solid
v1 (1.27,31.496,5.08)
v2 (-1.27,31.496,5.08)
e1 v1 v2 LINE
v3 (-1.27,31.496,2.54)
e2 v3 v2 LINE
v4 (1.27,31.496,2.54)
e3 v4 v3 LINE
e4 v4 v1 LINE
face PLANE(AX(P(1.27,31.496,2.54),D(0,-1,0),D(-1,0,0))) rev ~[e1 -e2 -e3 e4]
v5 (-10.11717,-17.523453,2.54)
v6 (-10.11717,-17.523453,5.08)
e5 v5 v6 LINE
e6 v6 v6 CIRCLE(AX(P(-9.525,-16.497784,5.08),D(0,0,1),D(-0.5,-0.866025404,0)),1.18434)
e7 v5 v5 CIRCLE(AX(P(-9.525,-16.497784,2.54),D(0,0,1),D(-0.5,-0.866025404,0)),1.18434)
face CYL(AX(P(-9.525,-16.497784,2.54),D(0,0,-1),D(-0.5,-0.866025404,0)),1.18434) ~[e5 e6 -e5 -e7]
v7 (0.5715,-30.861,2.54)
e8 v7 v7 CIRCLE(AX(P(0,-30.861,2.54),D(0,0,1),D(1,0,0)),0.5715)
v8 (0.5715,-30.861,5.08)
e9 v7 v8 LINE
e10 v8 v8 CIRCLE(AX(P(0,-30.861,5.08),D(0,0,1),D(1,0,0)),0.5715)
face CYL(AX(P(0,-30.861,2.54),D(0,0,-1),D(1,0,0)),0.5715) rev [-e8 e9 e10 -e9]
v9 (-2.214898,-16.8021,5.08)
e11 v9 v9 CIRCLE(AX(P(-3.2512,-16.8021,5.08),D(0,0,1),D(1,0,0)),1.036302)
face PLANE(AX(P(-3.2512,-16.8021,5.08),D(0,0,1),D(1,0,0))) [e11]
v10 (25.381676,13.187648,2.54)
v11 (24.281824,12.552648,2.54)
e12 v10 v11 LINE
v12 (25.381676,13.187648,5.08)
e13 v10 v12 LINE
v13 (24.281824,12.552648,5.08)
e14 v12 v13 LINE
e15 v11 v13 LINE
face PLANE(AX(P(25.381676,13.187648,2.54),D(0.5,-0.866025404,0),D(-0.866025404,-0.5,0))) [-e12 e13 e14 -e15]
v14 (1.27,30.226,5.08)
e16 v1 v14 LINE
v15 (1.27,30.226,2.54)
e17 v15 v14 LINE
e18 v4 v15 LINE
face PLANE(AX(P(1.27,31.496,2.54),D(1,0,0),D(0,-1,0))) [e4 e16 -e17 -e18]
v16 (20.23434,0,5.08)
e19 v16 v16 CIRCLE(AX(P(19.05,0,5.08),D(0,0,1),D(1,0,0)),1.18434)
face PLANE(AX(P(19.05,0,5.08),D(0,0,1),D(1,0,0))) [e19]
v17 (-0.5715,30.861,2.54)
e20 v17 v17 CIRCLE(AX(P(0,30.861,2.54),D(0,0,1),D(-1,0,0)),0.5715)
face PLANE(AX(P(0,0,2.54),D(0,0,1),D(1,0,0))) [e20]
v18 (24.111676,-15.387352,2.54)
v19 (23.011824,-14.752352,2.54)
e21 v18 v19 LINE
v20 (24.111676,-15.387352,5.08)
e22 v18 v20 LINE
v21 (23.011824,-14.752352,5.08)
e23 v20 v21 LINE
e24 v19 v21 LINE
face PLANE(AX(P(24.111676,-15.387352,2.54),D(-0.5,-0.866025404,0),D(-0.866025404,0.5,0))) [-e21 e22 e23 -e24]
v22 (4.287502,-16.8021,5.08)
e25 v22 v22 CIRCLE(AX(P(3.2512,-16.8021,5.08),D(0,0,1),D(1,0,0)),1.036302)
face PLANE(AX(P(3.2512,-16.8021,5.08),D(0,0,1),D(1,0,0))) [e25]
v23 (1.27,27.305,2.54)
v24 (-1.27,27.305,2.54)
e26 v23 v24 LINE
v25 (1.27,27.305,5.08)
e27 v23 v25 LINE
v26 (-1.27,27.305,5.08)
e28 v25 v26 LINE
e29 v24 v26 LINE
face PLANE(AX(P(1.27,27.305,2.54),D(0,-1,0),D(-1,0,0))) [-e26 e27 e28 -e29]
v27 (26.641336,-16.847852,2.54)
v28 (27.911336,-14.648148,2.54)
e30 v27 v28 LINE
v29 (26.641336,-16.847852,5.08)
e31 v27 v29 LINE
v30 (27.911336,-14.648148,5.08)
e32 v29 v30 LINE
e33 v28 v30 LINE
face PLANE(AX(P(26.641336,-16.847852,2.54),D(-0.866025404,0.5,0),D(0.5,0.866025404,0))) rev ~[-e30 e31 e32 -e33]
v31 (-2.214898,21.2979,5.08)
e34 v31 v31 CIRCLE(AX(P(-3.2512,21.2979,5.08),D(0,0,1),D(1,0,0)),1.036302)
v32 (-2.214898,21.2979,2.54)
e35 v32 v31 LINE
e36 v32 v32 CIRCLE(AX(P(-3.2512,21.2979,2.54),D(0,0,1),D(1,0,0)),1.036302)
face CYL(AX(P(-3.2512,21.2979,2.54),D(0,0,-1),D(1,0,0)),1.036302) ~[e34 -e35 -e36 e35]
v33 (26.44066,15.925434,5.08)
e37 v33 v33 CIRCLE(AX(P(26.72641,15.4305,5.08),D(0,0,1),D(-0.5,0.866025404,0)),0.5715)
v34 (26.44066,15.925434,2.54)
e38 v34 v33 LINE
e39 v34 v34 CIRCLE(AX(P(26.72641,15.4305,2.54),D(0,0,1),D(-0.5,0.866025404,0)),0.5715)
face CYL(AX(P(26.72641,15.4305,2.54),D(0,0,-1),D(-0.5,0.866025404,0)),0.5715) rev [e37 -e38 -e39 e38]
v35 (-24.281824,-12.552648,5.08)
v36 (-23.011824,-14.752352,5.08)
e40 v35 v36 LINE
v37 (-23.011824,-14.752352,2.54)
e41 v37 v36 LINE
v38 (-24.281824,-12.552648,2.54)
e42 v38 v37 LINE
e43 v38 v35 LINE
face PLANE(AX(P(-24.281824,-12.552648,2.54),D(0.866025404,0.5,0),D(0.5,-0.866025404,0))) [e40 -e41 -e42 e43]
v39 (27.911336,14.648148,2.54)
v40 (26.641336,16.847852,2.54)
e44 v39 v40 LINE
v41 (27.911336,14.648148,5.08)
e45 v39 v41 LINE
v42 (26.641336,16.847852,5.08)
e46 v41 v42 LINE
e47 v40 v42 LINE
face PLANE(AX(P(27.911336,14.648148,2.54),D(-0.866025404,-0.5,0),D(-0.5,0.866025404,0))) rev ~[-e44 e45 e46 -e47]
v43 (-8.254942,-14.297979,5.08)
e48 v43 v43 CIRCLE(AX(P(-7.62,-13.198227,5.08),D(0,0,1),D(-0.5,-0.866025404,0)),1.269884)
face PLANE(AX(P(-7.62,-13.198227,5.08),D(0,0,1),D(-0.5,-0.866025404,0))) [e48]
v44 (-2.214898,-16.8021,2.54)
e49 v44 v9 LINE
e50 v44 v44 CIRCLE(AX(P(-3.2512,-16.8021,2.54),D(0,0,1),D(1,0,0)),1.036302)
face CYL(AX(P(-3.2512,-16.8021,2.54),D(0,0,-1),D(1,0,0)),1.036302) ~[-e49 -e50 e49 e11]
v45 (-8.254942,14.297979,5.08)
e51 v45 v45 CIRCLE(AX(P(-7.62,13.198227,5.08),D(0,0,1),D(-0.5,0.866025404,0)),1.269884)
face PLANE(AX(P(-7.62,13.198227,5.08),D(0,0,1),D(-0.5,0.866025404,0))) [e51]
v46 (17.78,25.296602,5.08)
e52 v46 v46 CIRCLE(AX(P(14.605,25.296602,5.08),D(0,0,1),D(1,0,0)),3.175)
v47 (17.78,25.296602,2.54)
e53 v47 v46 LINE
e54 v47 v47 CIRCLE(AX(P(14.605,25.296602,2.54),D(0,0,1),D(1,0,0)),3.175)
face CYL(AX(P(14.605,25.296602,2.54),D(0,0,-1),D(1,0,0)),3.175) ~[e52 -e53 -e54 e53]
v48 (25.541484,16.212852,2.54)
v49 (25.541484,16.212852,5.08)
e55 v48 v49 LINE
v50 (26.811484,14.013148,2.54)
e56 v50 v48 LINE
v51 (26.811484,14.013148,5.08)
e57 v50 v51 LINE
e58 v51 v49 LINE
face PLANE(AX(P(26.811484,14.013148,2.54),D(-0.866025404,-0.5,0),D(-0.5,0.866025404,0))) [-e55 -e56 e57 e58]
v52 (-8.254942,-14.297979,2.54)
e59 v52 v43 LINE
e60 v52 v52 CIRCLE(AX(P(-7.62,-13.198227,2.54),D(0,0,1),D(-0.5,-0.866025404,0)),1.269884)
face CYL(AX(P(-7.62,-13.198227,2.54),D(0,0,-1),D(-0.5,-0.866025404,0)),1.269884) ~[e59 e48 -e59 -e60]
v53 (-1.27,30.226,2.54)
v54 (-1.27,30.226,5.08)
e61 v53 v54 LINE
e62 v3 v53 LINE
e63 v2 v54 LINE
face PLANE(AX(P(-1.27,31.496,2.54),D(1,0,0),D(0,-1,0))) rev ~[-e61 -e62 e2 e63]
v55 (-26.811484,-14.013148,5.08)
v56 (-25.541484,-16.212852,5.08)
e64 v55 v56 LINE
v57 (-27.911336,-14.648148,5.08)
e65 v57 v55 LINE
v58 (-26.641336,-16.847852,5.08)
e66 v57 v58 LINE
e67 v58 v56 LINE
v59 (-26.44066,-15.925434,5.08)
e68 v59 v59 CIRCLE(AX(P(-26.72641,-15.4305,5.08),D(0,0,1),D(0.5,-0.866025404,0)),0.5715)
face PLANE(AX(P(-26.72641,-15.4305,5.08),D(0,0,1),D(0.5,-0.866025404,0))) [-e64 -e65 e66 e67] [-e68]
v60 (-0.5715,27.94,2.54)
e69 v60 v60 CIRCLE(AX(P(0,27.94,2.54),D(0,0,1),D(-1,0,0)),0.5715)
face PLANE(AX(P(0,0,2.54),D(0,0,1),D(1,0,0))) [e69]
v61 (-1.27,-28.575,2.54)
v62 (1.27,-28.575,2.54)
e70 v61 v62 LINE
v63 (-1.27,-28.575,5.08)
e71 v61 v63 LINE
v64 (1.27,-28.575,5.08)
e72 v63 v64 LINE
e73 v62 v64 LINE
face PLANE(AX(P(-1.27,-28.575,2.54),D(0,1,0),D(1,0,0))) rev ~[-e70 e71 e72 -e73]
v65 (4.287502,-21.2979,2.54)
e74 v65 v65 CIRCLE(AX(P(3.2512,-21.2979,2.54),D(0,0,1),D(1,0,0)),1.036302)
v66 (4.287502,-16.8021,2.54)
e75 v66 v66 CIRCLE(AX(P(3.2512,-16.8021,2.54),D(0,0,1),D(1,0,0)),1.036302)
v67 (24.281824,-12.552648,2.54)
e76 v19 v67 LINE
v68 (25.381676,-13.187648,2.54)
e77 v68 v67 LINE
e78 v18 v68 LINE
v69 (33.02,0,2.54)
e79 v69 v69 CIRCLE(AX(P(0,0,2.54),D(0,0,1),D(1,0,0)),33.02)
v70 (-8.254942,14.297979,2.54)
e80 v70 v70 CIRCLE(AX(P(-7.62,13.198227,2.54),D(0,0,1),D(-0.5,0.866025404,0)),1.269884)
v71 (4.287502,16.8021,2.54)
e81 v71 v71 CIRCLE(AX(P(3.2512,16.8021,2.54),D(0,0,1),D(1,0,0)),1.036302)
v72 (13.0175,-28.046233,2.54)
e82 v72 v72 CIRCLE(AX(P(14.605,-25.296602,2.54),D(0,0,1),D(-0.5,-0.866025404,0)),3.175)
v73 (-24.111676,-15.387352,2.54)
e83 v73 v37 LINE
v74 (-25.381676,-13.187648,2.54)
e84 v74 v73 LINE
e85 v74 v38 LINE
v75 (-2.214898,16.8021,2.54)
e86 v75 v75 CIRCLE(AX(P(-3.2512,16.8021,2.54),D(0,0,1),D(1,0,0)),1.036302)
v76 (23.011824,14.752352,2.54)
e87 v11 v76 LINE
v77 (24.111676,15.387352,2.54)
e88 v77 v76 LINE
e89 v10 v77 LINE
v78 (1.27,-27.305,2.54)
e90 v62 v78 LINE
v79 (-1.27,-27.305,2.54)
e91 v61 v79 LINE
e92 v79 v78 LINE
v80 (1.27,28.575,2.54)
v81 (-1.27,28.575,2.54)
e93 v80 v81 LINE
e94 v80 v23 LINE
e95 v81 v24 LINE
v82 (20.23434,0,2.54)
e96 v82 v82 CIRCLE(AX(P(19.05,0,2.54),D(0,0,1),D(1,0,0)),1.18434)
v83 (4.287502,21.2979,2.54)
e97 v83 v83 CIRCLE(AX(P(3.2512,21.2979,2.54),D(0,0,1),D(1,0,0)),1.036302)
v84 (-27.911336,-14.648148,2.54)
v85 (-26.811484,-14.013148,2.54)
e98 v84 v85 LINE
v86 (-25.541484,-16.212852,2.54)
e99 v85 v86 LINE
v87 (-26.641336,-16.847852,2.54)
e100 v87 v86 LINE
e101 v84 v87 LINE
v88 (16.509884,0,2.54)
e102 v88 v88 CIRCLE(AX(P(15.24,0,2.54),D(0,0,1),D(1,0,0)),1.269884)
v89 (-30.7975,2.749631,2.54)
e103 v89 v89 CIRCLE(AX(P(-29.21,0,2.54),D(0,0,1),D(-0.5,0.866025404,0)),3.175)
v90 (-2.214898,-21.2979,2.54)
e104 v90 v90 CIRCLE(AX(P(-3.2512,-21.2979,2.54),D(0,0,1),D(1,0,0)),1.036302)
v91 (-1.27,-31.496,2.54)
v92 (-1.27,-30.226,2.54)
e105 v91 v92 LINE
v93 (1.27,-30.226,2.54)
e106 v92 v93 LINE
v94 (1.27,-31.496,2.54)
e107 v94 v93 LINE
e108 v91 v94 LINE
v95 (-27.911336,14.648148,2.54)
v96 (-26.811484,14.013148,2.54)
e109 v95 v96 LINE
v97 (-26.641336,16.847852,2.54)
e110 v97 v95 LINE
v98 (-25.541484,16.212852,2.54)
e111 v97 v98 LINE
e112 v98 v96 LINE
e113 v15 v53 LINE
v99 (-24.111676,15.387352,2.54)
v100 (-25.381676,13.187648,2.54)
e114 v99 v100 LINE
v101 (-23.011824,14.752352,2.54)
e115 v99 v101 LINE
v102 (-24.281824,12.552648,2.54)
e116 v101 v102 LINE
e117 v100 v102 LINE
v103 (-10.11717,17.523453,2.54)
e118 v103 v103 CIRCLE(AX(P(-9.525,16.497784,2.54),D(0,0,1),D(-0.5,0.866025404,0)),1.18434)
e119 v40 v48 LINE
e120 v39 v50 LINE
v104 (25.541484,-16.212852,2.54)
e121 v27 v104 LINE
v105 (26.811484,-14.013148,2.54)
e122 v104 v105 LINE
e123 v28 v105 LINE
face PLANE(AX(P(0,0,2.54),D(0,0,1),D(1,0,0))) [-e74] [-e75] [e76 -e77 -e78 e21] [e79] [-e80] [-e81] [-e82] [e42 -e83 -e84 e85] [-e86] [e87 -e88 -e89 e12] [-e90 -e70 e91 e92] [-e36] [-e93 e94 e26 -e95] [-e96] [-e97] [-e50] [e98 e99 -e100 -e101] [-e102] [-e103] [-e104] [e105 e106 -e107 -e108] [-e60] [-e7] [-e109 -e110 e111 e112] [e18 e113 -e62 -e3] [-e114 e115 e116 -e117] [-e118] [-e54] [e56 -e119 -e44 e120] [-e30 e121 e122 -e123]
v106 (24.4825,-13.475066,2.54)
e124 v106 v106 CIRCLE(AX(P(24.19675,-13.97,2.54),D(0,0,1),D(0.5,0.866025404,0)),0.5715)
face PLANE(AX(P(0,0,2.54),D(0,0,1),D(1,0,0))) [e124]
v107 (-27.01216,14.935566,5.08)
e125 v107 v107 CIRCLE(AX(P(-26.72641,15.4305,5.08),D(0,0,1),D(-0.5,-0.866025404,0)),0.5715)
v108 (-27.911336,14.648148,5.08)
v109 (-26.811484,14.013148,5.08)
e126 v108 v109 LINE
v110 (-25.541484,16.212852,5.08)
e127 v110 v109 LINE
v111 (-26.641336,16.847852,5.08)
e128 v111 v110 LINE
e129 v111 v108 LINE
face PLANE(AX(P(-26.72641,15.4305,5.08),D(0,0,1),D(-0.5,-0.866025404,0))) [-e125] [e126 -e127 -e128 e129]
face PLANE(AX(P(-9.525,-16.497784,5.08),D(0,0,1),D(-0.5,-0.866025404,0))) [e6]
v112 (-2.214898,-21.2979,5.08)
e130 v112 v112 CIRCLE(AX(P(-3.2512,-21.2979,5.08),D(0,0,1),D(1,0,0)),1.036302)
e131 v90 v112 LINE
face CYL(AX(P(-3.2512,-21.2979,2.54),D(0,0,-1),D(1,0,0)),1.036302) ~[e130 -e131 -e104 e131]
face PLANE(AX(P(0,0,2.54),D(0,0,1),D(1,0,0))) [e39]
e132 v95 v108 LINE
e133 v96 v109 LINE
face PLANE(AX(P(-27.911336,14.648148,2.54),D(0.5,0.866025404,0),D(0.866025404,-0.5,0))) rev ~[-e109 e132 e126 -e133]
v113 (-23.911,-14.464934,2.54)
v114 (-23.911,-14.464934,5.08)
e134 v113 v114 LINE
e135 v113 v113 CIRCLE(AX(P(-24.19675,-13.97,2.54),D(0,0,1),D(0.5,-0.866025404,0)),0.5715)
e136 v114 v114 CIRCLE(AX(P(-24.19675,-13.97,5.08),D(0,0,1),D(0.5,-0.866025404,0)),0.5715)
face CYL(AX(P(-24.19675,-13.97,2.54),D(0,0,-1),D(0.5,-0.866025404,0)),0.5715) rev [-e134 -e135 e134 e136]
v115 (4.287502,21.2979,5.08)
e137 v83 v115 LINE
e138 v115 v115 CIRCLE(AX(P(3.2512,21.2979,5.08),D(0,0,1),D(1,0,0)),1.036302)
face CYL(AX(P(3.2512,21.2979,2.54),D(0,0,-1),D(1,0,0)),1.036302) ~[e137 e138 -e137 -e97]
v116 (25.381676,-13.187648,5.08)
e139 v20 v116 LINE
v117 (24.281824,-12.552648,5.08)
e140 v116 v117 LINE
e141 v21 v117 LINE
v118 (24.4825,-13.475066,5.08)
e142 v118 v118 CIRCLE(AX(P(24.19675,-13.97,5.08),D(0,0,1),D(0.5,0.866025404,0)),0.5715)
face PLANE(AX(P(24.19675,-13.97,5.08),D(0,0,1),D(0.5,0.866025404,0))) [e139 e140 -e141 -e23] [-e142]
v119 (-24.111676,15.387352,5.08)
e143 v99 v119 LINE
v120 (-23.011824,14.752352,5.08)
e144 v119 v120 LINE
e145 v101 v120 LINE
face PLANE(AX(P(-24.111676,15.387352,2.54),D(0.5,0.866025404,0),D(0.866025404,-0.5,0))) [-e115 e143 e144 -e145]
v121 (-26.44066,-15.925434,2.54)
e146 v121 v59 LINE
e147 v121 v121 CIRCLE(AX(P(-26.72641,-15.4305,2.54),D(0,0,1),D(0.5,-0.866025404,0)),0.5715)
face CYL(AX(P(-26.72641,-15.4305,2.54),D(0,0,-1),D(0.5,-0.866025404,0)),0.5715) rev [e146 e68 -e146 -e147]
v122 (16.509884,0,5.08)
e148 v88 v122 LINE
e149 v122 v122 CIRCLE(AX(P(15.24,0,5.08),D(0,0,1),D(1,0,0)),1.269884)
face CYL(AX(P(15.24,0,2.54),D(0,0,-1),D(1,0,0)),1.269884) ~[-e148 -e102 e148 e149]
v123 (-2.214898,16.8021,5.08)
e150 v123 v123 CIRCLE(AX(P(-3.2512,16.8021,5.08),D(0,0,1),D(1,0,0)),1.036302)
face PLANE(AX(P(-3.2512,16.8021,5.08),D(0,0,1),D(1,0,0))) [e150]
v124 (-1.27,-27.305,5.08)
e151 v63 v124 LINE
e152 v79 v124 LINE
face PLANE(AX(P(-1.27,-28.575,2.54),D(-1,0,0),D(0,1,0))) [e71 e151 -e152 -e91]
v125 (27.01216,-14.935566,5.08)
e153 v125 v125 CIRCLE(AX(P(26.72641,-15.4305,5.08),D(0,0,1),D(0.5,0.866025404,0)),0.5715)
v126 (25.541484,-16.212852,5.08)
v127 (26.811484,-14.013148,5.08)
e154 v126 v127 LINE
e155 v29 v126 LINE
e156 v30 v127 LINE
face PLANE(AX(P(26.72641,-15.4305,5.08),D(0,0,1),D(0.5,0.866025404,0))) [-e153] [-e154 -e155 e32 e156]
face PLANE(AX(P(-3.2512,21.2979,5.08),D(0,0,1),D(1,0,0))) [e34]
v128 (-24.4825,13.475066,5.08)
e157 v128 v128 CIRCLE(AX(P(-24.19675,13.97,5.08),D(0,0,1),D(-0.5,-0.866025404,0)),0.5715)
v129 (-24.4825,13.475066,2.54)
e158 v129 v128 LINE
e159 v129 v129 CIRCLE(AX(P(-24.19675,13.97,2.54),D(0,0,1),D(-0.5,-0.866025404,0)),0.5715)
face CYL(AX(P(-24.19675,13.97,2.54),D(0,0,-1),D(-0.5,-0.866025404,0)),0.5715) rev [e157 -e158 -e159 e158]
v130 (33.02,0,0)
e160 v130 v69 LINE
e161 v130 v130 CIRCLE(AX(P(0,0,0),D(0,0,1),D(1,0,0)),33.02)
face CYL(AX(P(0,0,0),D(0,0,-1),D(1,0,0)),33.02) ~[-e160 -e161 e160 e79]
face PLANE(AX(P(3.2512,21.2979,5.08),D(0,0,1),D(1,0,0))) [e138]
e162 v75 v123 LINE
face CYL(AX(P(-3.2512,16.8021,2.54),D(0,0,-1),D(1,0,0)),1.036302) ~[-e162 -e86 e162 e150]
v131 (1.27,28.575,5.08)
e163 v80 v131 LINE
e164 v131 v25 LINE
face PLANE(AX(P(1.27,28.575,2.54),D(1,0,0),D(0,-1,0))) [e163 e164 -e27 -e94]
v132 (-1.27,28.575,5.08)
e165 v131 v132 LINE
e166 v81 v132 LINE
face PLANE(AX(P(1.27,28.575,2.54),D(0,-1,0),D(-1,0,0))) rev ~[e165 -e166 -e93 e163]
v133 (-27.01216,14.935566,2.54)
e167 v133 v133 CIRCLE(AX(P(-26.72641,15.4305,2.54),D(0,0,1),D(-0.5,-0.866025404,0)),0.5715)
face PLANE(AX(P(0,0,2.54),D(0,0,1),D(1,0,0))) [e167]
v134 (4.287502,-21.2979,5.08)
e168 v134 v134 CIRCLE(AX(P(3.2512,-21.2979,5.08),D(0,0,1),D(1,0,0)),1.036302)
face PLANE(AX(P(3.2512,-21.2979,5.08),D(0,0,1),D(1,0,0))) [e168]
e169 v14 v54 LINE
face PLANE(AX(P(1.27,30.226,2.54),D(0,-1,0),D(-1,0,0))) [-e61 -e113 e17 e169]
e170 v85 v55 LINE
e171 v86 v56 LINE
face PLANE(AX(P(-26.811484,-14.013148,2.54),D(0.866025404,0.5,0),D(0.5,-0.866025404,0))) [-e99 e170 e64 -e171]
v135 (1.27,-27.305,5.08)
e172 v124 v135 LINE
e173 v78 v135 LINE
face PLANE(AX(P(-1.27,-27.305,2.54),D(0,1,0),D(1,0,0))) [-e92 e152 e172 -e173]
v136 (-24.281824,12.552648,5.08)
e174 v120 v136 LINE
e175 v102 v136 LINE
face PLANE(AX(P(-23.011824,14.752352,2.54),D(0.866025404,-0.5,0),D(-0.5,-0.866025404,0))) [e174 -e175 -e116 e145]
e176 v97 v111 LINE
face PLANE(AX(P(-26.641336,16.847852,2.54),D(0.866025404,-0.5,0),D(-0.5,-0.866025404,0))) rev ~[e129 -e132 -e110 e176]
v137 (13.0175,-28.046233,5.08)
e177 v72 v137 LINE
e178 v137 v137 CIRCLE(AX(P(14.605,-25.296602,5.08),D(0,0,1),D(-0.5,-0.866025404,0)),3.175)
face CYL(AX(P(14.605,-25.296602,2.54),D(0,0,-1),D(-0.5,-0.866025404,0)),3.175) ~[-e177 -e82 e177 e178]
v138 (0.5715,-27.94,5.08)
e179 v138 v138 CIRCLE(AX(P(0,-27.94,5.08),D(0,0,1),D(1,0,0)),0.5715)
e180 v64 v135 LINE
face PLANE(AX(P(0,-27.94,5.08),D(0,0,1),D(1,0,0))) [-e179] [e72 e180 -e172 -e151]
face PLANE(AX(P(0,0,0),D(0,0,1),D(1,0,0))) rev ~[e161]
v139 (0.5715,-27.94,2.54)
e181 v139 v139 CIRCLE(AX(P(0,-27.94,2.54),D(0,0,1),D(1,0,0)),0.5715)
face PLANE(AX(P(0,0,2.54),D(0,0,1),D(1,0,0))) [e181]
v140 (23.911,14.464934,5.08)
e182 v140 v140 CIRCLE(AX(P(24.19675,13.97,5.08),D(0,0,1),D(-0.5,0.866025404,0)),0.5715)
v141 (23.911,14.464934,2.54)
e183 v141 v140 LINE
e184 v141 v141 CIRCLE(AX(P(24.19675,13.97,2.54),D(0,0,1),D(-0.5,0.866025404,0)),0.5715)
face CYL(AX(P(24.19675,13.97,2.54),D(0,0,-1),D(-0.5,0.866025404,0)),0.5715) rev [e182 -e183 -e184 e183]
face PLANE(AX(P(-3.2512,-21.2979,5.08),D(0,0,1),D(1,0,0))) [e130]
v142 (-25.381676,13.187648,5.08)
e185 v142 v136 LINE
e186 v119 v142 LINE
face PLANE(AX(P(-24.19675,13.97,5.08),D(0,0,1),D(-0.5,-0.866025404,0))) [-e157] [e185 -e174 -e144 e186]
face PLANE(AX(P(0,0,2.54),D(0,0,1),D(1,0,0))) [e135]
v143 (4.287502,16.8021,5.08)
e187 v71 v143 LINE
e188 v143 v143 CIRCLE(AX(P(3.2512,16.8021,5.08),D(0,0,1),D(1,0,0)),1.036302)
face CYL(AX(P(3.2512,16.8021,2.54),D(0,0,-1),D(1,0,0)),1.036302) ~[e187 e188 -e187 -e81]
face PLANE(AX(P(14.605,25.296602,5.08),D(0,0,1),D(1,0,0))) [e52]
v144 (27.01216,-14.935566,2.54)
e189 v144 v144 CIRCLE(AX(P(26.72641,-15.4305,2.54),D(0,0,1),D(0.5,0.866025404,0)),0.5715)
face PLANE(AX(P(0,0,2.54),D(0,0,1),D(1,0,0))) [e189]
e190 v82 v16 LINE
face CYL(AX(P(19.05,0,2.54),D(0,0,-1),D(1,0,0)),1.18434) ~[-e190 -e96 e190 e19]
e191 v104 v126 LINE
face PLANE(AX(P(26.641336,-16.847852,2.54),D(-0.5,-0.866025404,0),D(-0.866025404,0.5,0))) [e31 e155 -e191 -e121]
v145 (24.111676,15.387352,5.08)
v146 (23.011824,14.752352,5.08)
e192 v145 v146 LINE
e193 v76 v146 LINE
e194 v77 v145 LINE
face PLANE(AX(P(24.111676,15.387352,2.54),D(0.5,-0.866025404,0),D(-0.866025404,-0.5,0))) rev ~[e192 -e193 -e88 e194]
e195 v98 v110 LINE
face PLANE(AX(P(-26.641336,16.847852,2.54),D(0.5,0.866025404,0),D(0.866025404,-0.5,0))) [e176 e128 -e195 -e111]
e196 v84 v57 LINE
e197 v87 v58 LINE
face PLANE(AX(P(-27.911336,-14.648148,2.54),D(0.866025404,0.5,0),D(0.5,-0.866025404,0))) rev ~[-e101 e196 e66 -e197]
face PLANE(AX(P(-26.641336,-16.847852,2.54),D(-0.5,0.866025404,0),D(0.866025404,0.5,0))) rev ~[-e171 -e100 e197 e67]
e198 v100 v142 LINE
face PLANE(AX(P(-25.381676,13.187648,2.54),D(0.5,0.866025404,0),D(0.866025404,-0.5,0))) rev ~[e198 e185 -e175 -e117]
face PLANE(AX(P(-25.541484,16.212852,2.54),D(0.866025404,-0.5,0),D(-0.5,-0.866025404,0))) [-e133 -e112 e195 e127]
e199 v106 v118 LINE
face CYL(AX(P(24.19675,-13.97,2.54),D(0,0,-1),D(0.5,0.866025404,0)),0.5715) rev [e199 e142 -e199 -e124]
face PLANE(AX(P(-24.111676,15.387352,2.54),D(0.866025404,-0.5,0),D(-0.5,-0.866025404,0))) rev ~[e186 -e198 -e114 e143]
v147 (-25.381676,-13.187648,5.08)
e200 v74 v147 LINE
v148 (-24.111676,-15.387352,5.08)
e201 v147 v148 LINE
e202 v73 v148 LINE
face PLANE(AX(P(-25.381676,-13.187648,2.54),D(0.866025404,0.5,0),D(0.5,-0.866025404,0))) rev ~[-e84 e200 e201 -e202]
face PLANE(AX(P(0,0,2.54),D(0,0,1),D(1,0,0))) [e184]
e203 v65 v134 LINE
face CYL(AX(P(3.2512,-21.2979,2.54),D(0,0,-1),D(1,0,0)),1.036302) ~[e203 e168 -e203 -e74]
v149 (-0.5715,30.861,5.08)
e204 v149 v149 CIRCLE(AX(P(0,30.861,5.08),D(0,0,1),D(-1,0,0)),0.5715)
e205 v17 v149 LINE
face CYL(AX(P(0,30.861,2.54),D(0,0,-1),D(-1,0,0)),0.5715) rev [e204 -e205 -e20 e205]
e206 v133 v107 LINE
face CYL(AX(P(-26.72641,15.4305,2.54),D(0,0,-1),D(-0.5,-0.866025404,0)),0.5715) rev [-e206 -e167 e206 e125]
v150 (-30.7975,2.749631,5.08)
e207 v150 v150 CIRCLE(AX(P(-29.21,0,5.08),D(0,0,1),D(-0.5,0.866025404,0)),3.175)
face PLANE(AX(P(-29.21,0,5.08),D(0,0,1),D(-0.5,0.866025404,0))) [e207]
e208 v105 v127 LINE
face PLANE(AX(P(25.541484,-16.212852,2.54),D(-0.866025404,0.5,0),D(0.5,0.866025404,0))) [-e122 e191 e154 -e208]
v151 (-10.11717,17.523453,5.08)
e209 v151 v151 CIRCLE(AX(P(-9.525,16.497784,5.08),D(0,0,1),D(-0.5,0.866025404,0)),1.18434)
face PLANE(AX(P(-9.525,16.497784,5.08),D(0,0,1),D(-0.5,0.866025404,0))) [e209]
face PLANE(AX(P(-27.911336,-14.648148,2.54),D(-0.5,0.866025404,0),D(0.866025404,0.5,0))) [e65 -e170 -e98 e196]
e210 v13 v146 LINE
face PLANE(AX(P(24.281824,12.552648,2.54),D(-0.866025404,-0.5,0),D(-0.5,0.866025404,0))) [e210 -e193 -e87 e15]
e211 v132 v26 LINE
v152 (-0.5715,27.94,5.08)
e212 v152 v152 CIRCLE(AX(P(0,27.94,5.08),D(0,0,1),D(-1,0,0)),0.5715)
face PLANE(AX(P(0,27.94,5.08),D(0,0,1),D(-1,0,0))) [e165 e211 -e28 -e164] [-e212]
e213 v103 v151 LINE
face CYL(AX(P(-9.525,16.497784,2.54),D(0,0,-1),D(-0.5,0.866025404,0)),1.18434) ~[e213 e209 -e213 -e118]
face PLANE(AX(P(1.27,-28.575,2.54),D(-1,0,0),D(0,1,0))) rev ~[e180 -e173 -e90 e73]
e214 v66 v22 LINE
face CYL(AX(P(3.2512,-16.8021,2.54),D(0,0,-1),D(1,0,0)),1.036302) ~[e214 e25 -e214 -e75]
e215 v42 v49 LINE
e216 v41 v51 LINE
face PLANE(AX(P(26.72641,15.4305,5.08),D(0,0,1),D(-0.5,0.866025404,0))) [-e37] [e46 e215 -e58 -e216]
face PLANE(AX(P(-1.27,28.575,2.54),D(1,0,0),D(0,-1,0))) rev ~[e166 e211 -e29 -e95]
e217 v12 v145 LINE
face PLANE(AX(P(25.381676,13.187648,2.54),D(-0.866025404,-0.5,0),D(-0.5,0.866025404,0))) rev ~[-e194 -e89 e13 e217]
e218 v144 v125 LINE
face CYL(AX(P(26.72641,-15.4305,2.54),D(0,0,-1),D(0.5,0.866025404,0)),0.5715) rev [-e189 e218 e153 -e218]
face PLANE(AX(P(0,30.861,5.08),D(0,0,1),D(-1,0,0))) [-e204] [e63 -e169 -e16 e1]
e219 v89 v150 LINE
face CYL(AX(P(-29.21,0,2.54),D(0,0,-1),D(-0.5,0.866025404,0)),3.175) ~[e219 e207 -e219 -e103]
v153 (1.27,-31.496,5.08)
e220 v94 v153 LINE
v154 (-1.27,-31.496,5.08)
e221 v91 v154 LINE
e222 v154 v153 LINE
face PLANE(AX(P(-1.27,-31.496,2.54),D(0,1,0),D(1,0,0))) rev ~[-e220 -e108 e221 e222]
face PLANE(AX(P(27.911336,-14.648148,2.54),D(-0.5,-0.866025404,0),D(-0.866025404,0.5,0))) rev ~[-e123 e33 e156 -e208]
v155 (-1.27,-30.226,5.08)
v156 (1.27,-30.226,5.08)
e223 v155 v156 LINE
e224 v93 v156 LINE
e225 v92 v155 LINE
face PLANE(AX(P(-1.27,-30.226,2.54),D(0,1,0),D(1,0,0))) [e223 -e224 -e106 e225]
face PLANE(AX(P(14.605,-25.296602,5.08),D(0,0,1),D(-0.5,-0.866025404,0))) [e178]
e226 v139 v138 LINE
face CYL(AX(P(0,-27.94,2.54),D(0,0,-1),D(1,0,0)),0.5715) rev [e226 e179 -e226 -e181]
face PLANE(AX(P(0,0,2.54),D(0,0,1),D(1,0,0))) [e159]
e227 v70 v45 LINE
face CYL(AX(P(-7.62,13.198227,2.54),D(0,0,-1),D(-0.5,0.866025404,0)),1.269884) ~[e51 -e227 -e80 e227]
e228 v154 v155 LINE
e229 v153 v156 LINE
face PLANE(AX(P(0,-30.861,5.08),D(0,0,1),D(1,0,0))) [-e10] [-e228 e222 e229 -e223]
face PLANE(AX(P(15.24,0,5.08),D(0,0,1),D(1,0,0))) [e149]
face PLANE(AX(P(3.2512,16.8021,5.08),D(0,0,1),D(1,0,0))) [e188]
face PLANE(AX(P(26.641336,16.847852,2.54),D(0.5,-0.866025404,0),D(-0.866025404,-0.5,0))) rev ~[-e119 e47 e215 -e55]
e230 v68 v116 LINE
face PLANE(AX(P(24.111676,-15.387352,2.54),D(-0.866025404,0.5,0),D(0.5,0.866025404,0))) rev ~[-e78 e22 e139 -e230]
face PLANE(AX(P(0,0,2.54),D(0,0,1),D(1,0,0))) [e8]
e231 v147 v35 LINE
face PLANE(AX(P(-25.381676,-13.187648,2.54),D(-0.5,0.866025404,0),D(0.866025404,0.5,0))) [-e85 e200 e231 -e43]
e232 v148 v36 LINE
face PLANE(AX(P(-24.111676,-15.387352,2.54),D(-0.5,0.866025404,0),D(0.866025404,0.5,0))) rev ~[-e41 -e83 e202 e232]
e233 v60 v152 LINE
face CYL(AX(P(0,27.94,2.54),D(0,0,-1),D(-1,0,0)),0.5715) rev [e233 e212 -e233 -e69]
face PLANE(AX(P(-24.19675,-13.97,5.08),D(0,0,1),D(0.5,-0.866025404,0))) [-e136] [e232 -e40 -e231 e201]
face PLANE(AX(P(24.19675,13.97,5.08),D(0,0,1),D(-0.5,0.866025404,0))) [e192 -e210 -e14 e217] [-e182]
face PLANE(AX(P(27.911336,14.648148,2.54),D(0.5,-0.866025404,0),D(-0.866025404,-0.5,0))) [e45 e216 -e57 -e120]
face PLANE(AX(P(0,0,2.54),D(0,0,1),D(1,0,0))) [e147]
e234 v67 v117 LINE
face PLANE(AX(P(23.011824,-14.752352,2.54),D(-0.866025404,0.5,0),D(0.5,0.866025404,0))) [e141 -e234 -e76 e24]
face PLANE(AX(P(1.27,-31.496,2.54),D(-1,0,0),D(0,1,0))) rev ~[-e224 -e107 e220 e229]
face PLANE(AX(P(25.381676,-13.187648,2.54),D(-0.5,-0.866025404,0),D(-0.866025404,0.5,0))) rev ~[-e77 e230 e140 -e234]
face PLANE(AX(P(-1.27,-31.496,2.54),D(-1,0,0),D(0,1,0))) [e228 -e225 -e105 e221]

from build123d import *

# Parameters (mm, degrees)
SKETCH1_R           = 33.02
BOSS_EXTRUDE1_DEPTH = 2.54
SKETCH2_R           = 3.175
BOSS_EXTRUDE2_DEPTH = 2.54
CIRPATTERN1_COUNT   = 3
SKETCH3_W           = 2.54
SKETCH3_H           = 1.27
SKETCH3_R           = 0.5715
BOSS_EXTRUDE3_DEPTH = 2.54
CIRPATTERN8_COUNT   = 6
SKETCH4_R           = 1.036302298
BOSS_EXTRUDE4_DEPTH = 2.54
SKETCH5_R           = 1.269883707
SKETCH5_R_2         = 1.184340282
BOSS_EXTRUDE5_DEPTH = 2.54
CIRPATTERN9_COUNT   = 3


with BuildPart() as part:
    # Sketch1 → Boss-Extrude1 (new body)
    with BuildSketch(Plane.XY):
        Circle(SKETCH1_R)
    extrude(amount=BOSS_EXTRUDE1_DEPTH)

    # Sketch2 → Boss-Extrude2 (add)
    with BuildSketch(Plane.XY.offset(2.54)):
        with Locations((14.605, 25.296602045)):
            Circle(SKETCH2_R)
    boss_extrude2 = extrude(amount=BOSS_EXTRUDE2_DEPTH)

    # CirPattern1: Boss-Extrude2 ×3 about axis
    cirpattern1_axis = Axis((0, 0, 34.648246475), (0, 0, -1))
    for i in range(1, CIRPATTERN1_COUNT):
        add(boss_extrude2.rotate(cirpattern1_axis, i * 360 / CIRPATTERN1_COUNT))

    # Sketch3 → Boss-Extrude3 (add)
    # profile 1 of 2: a face of its own
    with BuildSketch(Plane.XY.offset(2.54)):
        with Locations((0, -27.94)):
            Rectangle(SKETCH3_W, SKETCH3_H)
        with Locations((0, -27.94)):
            Circle(SKETCH3_R, mode=Mode.SUBTRACT)
    # profile 2 of 2: a face of its own
    with BuildSketch(Plane.XY.offset(2.54)):
        with Locations((0, -30.861)):
            Rectangle(SKETCH3_W, SKETCH3_H)
        with Locations((0, -30.861)):
            Circle(SKETCH3_R, mode=Mode.SUBTRACT)
    boss_extrude3 = extrude(amount=BOSS_EXTRUDE3_DEPTH)

    # CirPattern8: Boss-Extrude3 ×6 about axis
    cirpattern8_axis = Axis((0, 0, 34.648246475), (0, 0, -1))
    for i in range(1, CIRPATTERN8_COUNT):
        add(boss_extrude3.rotate(cirpattern8_axis, i * 360 / CIRPATTERN8_COUNT))

    # Sketch4 → Boss-Extrude4 (add)
    with BuildSketch(Plane.XY.offset(2.54)):
        with Locations((-3.2512, 21.2979)):
            Circle(SKETCH4_R)
        with Locations((-3.2512, -16.8021)):
            Circle(SKETCH4_R)
        with Locations((3.2512, 21.2979)):
            Circle(SKETCH4_R)
        with Locations((3.2512, 16.8021)):
            Circle(SKETCH4_R)
        with Locations((-3.2512, 16.8021)):
            Circle(SKETCH4_R)
        with Locations((3.2512, -16.8021)):
            Circle(SKETCH4_R)
        with Locations((3.2512, -21.2979)):
            Circle(SKETCH4_R)
        with Locations((-3.2512, -21.2979)):
            Circle(SKETCH4_R)
    extrude(amount=BOSS_EXTRUDE4_DEPTH)

    # Sketch5 → Boss-Extrude5 (add)
    with BuildSketch(Plane.XY.offset(2.54)):
        with Locations((15.24, 0)):
            Circle(SKETCH5_R)
        with Locations((19.05, 0)):
            Circle(SKETCH5_R_2)
    boss_extrude5 = extrude(amount=BOSS_EXTRUDE5_DEPTH)

    # CirPattern9: Boss-Extrude5 ×3 about axis
    cirpattern9_axis = Axis((0, 0, 34.648246475), (0, 0, -1))
    for i in range(1, CIRPATTERN9_COUNT):
        add(boss_extrude5.rotate(cirpattern9_axis, i * 360 / CIRPATTERN9_COUNT))


solid = part.part
